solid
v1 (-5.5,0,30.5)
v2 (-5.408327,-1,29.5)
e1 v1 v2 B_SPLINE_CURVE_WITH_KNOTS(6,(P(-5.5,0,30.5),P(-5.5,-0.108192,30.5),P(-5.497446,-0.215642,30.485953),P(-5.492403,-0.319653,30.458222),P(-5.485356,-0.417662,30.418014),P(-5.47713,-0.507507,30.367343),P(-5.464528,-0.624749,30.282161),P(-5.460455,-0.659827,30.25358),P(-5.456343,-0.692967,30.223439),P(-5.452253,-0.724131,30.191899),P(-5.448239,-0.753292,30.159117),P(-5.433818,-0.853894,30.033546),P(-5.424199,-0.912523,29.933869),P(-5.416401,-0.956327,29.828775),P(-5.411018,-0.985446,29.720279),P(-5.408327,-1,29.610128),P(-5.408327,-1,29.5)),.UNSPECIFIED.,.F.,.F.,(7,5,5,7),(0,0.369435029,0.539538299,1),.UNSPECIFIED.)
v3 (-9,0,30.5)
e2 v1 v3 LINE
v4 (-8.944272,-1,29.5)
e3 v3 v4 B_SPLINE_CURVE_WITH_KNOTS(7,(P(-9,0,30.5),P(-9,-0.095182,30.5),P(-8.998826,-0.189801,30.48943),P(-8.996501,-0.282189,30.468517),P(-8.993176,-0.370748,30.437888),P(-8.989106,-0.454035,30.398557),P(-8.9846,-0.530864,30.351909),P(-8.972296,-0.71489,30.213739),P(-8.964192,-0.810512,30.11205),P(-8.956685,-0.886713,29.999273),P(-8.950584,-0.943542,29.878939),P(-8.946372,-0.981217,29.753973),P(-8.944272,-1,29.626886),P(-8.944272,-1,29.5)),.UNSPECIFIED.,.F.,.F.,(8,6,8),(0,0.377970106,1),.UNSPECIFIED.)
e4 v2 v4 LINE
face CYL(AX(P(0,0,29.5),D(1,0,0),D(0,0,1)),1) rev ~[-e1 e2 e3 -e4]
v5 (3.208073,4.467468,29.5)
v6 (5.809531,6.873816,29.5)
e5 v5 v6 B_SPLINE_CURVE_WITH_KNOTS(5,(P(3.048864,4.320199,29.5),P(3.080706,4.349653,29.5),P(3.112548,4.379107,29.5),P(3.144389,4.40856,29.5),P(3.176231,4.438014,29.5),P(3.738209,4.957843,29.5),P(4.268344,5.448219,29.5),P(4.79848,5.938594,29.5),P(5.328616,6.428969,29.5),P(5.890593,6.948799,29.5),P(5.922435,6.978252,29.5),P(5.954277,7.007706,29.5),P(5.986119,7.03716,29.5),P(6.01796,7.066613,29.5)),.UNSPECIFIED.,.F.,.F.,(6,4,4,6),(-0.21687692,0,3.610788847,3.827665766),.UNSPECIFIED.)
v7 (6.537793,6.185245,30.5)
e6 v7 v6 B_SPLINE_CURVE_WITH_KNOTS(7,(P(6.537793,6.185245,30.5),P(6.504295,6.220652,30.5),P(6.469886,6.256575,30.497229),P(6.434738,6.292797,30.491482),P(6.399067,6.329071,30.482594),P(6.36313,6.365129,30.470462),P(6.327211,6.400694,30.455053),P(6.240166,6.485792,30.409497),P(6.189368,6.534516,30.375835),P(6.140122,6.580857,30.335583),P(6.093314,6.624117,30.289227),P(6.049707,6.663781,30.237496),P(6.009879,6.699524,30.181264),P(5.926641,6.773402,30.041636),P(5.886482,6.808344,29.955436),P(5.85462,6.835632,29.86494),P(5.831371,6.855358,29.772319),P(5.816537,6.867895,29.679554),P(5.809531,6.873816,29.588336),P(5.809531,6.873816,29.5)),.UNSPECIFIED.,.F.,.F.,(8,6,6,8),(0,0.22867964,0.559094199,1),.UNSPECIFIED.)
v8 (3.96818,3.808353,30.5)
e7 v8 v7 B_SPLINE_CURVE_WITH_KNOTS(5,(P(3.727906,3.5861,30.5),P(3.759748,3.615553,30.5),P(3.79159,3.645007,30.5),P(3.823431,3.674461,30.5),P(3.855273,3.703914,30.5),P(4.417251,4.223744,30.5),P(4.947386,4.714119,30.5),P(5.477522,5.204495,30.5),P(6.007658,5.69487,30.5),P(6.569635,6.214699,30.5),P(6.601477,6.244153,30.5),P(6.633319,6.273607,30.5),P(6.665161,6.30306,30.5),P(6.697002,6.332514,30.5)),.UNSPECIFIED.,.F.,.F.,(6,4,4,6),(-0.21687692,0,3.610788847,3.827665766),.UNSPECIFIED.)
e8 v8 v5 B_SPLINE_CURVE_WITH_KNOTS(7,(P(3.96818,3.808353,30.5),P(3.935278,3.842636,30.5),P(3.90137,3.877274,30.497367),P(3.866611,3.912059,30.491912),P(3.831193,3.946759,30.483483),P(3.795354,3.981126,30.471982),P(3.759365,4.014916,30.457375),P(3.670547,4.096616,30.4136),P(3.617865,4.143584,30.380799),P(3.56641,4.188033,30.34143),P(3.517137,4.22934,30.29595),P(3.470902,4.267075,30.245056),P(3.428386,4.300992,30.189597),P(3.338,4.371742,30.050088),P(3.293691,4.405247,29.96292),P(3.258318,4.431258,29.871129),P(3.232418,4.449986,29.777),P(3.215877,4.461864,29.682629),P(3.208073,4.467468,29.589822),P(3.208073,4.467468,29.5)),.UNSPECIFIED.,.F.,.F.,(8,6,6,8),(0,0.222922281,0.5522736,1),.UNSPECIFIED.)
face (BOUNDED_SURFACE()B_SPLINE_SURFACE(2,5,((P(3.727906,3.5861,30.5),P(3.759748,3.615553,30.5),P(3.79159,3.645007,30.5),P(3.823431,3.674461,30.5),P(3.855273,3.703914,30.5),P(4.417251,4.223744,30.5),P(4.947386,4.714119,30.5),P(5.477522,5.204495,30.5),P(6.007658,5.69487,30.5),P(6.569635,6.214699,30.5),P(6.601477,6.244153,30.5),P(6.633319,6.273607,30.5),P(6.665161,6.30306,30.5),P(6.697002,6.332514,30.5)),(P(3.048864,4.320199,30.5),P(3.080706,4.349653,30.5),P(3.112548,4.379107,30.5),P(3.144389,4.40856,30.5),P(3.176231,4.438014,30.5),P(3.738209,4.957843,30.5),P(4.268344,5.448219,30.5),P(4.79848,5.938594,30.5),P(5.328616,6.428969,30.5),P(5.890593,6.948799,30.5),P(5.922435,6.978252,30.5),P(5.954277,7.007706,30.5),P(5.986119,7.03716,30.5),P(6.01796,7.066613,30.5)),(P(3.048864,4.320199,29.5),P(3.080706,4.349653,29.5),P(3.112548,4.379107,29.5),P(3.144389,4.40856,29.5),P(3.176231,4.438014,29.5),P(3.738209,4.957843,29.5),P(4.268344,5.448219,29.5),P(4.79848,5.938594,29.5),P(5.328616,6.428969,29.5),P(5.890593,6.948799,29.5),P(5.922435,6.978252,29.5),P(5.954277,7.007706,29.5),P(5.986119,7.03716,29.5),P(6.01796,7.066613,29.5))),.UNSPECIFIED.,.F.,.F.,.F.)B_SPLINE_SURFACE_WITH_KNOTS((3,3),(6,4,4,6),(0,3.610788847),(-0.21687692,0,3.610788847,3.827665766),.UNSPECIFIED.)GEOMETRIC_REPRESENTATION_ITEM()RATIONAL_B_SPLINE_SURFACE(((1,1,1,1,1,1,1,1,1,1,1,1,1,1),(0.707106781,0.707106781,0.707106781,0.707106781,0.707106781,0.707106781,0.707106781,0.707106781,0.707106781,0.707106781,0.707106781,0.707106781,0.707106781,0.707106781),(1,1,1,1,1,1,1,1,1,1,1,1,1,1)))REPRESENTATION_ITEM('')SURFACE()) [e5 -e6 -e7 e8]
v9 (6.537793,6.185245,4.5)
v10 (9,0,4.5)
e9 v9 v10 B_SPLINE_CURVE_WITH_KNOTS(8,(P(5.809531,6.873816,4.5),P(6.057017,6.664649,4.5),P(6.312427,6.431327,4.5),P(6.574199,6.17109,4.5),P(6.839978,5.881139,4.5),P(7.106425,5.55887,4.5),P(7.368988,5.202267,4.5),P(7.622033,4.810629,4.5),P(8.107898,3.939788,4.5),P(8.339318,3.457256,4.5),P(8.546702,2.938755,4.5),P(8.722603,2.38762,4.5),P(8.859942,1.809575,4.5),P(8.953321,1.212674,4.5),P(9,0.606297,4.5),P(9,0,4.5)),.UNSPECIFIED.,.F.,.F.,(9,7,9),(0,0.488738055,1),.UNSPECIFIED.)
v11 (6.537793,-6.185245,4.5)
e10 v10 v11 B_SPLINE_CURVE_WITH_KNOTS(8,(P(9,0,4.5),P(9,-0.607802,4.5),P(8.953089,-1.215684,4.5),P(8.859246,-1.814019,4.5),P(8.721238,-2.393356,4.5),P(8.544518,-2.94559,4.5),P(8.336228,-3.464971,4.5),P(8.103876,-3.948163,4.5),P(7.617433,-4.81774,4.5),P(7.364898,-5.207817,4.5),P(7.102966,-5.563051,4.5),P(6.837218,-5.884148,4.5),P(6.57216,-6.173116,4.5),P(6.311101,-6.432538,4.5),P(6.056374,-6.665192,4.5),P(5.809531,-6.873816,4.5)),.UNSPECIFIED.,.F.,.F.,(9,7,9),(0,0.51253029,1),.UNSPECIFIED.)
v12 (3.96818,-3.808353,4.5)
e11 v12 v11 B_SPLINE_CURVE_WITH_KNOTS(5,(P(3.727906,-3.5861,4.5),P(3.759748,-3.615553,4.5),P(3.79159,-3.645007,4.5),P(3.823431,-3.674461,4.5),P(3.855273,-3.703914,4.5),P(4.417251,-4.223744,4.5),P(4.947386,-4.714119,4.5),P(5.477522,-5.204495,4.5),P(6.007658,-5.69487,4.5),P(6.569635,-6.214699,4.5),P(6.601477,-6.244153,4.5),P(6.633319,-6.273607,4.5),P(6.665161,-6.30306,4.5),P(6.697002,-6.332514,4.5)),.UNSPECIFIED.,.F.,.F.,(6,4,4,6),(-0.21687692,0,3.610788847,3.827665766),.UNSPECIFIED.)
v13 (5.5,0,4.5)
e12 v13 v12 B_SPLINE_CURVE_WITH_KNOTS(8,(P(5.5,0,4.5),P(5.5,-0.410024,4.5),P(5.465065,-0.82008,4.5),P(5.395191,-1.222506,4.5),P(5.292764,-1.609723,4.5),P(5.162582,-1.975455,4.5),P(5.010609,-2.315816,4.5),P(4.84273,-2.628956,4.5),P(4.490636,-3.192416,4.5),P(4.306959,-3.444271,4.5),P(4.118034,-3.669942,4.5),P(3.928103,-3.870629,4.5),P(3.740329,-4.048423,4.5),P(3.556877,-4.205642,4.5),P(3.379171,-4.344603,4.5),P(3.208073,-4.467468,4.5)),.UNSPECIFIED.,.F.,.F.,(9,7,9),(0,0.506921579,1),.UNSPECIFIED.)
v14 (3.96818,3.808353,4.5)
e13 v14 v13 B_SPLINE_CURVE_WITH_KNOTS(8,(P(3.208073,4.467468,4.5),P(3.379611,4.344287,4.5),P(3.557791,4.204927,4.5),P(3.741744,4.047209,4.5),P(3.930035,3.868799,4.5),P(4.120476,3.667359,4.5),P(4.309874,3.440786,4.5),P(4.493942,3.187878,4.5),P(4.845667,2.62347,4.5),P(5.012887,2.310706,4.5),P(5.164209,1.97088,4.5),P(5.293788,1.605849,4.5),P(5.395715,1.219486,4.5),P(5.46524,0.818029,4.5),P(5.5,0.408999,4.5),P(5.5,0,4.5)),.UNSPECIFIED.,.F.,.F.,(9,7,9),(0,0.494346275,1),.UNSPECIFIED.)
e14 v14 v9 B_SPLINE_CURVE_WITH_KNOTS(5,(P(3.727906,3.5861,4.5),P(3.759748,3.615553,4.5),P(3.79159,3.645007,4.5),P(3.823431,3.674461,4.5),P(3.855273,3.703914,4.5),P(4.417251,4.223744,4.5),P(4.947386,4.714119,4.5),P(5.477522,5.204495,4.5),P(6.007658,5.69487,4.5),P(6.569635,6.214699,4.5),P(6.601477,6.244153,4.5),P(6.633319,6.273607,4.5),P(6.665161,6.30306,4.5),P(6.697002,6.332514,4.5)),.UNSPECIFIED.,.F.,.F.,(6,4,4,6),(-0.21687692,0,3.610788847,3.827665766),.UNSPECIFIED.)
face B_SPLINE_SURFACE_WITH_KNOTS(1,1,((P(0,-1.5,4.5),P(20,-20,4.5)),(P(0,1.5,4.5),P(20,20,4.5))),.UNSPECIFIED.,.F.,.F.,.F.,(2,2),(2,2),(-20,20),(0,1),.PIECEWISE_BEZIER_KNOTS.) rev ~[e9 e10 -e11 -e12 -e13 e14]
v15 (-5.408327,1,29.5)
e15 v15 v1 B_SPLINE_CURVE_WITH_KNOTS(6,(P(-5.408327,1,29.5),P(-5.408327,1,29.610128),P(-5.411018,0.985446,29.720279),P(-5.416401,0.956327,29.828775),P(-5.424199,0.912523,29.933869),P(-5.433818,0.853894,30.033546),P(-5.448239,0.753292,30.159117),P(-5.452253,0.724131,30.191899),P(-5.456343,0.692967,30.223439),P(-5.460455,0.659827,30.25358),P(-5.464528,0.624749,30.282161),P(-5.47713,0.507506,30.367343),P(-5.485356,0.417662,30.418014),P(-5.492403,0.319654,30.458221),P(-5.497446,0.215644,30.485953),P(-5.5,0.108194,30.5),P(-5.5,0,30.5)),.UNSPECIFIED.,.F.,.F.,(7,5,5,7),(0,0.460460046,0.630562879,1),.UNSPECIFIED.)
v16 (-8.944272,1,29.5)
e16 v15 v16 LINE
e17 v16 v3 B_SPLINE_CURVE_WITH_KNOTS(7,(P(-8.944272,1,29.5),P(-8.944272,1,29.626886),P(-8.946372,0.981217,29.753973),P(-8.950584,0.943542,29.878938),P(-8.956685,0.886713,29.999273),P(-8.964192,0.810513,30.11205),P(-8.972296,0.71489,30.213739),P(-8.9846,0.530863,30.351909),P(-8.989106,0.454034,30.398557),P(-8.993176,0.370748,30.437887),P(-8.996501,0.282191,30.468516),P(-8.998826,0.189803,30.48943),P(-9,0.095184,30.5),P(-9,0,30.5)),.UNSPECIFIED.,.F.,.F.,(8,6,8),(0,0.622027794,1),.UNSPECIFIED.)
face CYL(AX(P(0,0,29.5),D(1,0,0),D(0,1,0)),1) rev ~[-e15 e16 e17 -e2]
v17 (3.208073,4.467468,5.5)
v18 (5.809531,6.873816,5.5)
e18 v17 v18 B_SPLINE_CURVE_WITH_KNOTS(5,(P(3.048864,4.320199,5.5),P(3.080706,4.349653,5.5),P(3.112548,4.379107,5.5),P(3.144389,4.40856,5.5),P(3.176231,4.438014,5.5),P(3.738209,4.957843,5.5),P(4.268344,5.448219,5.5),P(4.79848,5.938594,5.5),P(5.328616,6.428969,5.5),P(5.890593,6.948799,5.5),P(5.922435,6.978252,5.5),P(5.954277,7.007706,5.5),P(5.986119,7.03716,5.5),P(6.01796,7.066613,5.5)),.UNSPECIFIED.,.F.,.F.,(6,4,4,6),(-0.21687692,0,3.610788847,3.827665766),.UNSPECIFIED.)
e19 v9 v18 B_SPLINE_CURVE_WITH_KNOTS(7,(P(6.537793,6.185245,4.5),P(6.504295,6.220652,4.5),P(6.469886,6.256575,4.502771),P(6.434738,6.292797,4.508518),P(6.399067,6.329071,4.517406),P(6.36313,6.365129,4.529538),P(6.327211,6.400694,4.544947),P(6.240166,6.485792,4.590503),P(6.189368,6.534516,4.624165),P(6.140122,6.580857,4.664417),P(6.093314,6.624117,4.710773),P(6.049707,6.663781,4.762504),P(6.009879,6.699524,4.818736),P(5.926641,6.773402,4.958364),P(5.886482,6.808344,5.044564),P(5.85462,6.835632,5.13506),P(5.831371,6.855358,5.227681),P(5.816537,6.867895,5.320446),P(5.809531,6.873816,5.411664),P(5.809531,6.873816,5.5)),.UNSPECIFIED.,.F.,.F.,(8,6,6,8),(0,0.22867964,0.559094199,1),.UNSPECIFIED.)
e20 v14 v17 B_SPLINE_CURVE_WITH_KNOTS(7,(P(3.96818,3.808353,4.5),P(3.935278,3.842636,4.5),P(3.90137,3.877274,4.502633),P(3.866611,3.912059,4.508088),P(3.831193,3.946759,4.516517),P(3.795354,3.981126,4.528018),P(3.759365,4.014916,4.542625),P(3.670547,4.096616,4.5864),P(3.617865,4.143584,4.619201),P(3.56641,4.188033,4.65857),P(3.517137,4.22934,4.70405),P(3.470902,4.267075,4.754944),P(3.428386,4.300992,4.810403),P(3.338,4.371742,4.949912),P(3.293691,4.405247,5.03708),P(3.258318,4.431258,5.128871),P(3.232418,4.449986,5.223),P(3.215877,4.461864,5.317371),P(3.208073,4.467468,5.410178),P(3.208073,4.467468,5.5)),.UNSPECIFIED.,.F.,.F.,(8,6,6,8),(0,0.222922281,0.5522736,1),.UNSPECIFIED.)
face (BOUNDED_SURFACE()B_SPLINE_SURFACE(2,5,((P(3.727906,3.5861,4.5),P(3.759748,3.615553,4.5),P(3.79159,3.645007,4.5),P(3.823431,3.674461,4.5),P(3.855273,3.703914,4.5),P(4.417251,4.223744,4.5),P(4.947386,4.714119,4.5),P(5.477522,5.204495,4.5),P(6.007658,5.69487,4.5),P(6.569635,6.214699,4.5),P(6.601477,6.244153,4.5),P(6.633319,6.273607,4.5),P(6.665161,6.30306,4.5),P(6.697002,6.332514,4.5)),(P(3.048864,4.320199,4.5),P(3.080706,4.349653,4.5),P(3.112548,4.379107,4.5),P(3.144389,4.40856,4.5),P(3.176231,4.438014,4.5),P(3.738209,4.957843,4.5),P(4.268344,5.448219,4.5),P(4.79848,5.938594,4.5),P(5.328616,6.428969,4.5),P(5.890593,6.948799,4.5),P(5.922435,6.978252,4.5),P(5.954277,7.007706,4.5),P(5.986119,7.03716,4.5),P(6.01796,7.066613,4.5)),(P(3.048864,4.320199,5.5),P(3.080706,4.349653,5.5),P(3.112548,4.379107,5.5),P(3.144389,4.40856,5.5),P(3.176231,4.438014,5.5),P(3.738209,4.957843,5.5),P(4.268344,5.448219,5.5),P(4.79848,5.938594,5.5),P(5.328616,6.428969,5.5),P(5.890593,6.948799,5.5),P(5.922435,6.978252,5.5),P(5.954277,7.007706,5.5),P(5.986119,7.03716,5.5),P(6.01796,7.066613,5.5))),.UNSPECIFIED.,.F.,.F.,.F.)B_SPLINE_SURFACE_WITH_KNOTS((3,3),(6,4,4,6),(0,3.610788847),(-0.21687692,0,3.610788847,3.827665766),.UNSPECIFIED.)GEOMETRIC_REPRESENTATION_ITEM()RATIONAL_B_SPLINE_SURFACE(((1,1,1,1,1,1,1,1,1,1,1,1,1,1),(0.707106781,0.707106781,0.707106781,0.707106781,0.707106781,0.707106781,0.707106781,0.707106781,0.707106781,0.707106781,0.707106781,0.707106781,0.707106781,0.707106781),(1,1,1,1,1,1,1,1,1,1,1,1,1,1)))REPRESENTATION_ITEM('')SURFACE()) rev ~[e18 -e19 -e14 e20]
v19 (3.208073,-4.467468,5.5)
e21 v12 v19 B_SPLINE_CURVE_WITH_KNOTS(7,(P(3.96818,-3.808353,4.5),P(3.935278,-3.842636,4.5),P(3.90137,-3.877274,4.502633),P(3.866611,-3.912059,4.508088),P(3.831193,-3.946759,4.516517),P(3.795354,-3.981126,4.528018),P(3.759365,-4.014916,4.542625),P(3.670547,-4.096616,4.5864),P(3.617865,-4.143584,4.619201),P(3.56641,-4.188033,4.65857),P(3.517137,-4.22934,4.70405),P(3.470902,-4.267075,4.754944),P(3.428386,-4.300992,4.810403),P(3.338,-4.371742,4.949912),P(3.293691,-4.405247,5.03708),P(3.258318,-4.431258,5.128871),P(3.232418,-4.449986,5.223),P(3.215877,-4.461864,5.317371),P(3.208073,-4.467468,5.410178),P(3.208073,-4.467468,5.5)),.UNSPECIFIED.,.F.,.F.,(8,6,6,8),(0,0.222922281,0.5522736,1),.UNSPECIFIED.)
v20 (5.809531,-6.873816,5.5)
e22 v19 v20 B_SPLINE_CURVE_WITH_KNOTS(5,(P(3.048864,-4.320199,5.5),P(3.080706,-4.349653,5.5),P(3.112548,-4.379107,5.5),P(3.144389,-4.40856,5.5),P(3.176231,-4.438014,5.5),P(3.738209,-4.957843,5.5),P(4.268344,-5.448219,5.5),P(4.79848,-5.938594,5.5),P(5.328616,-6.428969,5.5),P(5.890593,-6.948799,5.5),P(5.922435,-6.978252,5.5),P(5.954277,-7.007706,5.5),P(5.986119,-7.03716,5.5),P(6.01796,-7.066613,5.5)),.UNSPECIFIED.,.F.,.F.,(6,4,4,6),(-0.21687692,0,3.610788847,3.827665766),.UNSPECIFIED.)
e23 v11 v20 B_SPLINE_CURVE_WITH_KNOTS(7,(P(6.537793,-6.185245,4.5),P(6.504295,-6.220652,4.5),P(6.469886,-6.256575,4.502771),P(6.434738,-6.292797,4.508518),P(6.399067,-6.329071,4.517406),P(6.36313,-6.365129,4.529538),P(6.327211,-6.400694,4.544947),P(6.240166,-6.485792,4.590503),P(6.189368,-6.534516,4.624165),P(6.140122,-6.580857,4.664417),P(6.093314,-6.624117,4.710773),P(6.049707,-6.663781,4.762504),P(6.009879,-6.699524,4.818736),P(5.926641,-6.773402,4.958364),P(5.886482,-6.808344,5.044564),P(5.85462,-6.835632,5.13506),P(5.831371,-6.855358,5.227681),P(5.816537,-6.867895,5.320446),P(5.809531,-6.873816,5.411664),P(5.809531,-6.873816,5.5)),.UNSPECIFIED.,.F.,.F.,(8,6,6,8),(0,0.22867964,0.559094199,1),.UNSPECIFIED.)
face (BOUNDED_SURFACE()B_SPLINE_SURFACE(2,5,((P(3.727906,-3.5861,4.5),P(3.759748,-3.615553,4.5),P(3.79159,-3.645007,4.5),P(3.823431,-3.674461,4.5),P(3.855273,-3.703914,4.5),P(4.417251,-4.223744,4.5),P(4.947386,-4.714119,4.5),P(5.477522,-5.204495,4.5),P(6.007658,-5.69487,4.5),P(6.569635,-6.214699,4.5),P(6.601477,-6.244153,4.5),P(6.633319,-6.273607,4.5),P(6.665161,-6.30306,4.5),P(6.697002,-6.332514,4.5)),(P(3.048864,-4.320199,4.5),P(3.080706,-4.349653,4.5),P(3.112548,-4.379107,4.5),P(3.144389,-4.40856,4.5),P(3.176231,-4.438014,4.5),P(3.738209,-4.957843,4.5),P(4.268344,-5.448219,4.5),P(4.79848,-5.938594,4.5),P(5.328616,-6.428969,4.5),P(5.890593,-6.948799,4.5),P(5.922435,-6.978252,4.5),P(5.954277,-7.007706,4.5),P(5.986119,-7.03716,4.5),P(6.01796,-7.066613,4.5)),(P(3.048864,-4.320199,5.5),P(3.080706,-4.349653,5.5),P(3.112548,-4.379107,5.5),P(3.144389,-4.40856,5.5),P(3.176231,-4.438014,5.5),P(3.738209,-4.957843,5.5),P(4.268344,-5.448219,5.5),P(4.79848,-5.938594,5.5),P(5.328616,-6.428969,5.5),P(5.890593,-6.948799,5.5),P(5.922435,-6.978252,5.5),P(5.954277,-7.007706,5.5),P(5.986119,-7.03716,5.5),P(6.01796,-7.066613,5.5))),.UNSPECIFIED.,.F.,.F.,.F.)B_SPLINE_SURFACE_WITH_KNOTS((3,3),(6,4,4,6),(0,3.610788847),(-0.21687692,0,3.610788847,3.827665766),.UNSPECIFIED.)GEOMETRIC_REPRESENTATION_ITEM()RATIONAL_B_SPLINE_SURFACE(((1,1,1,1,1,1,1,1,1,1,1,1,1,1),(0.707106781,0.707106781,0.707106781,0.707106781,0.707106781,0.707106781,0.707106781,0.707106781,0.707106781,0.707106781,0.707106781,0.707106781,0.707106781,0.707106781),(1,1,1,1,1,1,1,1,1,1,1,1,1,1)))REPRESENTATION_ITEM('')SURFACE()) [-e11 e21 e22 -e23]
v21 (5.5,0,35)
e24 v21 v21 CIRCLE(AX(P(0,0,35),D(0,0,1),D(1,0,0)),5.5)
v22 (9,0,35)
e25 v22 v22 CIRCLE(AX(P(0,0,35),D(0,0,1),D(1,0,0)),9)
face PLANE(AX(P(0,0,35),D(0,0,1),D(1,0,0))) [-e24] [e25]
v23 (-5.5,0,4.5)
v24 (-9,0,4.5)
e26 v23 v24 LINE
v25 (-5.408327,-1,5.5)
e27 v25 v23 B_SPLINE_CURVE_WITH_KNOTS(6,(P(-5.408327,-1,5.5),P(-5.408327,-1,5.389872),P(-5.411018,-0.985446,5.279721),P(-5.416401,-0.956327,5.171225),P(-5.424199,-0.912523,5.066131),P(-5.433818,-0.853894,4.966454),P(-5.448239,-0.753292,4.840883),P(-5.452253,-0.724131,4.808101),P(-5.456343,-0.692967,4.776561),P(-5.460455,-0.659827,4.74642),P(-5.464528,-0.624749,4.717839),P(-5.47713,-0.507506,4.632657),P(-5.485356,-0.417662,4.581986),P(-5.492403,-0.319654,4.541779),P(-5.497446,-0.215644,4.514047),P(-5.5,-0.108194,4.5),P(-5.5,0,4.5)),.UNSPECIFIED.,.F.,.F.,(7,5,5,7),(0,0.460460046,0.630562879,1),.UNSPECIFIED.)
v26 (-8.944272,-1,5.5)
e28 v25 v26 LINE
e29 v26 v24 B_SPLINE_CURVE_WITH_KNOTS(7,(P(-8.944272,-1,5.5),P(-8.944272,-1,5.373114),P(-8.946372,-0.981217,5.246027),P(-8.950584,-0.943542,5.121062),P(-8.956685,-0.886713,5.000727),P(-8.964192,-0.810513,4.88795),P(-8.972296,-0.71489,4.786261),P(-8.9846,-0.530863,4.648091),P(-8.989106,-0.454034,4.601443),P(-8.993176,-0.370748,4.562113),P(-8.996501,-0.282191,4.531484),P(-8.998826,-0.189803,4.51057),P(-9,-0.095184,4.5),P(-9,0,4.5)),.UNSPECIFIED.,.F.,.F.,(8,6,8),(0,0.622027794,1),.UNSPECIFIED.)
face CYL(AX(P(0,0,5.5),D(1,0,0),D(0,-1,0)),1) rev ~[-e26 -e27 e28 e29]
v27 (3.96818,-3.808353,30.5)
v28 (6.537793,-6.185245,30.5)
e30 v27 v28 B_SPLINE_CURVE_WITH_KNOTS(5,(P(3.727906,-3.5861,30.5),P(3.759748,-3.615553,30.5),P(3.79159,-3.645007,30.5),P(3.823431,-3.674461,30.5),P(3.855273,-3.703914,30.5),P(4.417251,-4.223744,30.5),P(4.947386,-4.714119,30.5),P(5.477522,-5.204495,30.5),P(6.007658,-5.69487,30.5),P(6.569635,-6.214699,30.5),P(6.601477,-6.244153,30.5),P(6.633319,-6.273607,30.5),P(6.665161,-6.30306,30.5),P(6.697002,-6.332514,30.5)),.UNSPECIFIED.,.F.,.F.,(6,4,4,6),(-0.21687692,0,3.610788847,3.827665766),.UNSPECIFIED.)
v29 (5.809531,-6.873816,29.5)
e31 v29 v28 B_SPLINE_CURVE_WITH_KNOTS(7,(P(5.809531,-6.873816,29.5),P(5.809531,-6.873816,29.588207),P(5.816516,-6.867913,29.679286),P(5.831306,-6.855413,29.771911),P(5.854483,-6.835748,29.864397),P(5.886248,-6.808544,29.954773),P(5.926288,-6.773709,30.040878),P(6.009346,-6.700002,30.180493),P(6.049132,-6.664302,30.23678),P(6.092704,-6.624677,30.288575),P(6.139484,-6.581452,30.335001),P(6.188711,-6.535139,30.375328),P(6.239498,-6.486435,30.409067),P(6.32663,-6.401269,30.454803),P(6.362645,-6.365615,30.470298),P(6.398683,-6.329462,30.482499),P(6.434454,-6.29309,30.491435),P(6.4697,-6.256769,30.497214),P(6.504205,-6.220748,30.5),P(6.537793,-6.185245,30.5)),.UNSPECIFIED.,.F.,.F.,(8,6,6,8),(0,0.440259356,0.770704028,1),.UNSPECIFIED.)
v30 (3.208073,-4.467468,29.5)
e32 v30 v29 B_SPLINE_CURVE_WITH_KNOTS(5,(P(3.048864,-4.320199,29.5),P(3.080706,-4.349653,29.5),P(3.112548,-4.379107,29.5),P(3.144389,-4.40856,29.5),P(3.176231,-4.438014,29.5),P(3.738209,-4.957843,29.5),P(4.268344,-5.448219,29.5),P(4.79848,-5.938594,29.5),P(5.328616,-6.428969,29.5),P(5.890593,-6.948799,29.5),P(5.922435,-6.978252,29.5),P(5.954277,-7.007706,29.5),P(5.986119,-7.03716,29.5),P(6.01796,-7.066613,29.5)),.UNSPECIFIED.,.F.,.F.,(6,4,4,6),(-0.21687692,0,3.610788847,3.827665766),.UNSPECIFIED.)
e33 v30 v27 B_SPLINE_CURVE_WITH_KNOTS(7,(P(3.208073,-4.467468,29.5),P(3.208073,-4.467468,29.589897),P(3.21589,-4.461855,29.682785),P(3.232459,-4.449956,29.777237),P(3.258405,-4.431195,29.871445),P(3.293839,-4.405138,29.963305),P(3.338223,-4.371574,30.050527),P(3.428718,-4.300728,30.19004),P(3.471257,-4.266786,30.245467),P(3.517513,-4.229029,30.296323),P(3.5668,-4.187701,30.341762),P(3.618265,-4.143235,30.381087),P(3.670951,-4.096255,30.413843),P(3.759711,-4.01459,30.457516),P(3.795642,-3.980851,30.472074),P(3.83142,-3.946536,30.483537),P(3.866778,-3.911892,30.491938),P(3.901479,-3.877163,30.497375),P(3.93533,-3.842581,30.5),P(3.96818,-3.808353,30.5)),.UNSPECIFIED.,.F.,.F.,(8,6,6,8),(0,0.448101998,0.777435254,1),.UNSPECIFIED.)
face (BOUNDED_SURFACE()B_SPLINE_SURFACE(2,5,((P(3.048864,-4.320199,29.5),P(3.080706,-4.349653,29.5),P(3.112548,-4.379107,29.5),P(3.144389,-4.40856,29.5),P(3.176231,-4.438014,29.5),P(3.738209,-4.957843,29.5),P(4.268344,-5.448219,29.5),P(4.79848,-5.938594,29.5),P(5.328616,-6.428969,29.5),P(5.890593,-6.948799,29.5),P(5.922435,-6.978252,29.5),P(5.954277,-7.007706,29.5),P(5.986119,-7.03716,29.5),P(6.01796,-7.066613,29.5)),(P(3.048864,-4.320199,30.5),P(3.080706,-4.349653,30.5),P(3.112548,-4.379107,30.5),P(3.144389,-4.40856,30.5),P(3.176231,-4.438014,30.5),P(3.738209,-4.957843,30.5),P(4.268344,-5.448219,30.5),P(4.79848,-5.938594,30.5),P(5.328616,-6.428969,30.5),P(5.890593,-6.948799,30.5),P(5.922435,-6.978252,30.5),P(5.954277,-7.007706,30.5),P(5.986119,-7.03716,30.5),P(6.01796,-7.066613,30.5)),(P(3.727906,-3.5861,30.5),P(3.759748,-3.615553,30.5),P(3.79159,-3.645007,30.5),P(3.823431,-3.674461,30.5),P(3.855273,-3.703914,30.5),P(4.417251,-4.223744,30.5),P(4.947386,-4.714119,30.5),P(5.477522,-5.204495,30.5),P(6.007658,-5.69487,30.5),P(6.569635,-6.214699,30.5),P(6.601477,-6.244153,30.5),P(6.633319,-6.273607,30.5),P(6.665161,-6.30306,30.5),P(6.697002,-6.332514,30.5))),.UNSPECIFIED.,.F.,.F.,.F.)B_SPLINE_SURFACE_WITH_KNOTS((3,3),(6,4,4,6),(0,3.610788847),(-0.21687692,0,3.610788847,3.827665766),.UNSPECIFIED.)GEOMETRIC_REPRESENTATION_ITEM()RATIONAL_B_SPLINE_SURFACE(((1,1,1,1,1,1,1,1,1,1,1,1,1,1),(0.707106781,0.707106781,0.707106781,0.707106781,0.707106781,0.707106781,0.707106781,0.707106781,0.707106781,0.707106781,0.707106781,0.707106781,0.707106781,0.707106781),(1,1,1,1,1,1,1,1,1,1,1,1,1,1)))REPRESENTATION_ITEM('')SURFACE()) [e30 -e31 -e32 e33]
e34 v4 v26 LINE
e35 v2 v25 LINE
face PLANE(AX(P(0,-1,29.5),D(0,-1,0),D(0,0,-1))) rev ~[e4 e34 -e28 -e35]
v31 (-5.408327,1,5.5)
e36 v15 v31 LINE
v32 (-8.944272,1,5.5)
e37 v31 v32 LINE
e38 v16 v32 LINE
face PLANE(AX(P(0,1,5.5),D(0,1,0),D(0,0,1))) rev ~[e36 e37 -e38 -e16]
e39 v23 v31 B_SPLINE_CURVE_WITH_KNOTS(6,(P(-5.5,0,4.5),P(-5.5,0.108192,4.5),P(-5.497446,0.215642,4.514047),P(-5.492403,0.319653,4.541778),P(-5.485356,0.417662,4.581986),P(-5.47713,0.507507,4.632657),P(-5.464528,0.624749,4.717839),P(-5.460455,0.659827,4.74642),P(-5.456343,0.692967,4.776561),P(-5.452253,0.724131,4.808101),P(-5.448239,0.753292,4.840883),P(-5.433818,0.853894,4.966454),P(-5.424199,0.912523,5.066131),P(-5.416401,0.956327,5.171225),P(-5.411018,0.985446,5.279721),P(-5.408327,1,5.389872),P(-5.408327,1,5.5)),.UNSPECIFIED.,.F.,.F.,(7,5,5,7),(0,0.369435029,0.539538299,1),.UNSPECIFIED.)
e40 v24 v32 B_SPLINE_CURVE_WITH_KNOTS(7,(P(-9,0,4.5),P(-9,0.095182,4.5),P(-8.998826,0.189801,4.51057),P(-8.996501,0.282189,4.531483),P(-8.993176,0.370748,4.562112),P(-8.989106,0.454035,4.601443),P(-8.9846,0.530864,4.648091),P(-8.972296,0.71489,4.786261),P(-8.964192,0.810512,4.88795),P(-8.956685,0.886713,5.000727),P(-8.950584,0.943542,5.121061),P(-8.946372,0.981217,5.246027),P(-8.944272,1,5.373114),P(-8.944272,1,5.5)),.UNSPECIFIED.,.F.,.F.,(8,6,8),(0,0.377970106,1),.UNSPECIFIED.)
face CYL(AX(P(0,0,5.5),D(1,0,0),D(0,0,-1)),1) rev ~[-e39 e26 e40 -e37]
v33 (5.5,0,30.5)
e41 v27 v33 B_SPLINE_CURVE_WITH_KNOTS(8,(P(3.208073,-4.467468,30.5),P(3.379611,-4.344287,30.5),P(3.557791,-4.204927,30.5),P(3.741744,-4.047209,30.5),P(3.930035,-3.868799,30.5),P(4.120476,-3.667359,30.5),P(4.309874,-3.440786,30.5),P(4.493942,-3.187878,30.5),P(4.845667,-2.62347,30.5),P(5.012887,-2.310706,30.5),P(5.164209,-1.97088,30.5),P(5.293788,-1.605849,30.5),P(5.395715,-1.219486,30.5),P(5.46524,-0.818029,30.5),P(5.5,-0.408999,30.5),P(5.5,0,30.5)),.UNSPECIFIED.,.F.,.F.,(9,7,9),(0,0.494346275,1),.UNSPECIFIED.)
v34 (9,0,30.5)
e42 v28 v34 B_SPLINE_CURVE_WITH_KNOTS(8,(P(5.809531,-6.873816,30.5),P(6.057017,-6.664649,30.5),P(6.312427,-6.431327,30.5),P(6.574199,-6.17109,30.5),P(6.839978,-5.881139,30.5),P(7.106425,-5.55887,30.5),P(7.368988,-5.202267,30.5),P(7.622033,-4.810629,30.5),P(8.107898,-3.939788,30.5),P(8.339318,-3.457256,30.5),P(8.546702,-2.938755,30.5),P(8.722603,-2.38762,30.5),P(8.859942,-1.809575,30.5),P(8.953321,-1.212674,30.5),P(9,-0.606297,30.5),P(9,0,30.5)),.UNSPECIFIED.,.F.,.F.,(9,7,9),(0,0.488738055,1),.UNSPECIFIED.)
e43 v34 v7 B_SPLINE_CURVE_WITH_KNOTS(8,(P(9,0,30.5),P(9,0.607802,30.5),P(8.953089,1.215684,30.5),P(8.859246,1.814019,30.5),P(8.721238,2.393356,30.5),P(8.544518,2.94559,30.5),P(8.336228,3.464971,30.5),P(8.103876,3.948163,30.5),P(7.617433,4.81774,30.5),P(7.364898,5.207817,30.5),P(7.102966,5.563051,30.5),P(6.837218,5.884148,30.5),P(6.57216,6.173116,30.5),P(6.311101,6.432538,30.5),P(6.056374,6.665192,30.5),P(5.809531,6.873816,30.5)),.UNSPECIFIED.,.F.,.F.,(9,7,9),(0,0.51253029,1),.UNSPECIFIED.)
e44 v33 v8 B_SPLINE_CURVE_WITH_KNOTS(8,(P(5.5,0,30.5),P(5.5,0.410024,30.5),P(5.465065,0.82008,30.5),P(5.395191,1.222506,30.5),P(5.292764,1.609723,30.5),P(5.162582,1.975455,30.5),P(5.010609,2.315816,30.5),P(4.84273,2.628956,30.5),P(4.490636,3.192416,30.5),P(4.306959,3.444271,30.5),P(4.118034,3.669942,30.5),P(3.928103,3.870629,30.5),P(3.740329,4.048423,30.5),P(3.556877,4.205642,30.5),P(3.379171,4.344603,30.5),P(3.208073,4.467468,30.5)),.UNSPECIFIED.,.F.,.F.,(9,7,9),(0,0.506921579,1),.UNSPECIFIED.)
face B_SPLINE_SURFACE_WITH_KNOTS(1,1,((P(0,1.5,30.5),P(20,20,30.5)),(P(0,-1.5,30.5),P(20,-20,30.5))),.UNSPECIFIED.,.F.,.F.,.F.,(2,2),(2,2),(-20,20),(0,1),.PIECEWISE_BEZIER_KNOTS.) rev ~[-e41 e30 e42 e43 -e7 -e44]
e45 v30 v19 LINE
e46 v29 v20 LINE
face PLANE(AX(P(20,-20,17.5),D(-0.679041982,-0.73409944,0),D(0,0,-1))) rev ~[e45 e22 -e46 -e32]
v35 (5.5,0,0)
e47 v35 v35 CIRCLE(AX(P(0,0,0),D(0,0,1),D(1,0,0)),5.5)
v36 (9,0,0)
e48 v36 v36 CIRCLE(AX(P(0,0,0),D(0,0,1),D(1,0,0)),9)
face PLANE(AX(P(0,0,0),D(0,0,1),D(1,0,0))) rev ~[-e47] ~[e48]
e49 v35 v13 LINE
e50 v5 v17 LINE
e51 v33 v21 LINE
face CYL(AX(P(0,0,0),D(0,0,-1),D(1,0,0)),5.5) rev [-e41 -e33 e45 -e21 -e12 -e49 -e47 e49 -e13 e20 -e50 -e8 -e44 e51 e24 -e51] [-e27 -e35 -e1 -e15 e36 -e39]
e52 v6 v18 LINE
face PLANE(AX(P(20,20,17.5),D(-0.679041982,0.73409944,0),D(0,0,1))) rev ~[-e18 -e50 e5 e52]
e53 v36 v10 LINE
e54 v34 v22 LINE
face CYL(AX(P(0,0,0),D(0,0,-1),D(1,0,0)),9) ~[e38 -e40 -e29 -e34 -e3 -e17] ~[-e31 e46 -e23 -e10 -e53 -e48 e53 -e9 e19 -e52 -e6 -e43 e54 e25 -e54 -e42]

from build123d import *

# Parameters (mm, degrees)
F0_R     = 9
F0_R_2   = 5.5
F1_DEPTH = 35
F3_DEPTH = 25
F4_W     = 3
F4_H     = 26
F6_W     = 40
F6_H     = 26
F8_R     = 1


with BuildPart() as f1:
    # F0 (on Top) → F1 (new body)
    with BuildSketch(Plane.XY):
        Circle(F0_R)
        Circle(F0_R_2, mode=Mode.SUBTRACT)
    extrude(amount=F1_DEPTH)

    # F2 (on Right) → F3 (cut)
    with BuildSketch(Plane.YZ):
        with BuildLine():
            ThreePointArc((0, 4.5), (0.7071067812, 4.7928932188), (1, 5.5))
            Line((1, 5.5), (1, 29.5))
            ThreePointArc((1, 29.5), (0.7071067812, 30.2071067812), (0, 30.5))
            ThreePointArc((0, 30.5), (-0.7071067812, 30.2071067812), (-1, 29.5))
            Line((-1, 29.5), (-1, 5.5))
            ThreePointArc((-1, 5.5), (-0.7071067812, 4.7928932188), (0, 4.5))
        make_face()
    extrude(amount=-F3_DEPTH, mode=Mode.SUBTRACT)

    # F4 (on Right) → F7 section 0
    with BuildSketch(Plane.YZ):
        with Locations((0, 17.5)):
            Rectangle(F4_W, F4_H)
    # F6 (on offset) → F7 section 1
    with BuildSketch(Plane.YZ.offset(20)):
        with Locations((0, 17.5)):
            Rectangle(F6_W, F6_H)
    loft(mode=Mode.SUBTRACT)

    # F8
    f8_edges = [f1.edges().sort_by_distance(p)[0] for p in [
        (4.508802, -5.670642, 30.5),
        (4.508802, 5.670642, 30.5),
        (4.508802, 5.670642, 4.5),
        (4.508802, -5.670642, 4.5),
    ]]
    fillet(f8_edges, radius=F8_R)


solid = f1.part
